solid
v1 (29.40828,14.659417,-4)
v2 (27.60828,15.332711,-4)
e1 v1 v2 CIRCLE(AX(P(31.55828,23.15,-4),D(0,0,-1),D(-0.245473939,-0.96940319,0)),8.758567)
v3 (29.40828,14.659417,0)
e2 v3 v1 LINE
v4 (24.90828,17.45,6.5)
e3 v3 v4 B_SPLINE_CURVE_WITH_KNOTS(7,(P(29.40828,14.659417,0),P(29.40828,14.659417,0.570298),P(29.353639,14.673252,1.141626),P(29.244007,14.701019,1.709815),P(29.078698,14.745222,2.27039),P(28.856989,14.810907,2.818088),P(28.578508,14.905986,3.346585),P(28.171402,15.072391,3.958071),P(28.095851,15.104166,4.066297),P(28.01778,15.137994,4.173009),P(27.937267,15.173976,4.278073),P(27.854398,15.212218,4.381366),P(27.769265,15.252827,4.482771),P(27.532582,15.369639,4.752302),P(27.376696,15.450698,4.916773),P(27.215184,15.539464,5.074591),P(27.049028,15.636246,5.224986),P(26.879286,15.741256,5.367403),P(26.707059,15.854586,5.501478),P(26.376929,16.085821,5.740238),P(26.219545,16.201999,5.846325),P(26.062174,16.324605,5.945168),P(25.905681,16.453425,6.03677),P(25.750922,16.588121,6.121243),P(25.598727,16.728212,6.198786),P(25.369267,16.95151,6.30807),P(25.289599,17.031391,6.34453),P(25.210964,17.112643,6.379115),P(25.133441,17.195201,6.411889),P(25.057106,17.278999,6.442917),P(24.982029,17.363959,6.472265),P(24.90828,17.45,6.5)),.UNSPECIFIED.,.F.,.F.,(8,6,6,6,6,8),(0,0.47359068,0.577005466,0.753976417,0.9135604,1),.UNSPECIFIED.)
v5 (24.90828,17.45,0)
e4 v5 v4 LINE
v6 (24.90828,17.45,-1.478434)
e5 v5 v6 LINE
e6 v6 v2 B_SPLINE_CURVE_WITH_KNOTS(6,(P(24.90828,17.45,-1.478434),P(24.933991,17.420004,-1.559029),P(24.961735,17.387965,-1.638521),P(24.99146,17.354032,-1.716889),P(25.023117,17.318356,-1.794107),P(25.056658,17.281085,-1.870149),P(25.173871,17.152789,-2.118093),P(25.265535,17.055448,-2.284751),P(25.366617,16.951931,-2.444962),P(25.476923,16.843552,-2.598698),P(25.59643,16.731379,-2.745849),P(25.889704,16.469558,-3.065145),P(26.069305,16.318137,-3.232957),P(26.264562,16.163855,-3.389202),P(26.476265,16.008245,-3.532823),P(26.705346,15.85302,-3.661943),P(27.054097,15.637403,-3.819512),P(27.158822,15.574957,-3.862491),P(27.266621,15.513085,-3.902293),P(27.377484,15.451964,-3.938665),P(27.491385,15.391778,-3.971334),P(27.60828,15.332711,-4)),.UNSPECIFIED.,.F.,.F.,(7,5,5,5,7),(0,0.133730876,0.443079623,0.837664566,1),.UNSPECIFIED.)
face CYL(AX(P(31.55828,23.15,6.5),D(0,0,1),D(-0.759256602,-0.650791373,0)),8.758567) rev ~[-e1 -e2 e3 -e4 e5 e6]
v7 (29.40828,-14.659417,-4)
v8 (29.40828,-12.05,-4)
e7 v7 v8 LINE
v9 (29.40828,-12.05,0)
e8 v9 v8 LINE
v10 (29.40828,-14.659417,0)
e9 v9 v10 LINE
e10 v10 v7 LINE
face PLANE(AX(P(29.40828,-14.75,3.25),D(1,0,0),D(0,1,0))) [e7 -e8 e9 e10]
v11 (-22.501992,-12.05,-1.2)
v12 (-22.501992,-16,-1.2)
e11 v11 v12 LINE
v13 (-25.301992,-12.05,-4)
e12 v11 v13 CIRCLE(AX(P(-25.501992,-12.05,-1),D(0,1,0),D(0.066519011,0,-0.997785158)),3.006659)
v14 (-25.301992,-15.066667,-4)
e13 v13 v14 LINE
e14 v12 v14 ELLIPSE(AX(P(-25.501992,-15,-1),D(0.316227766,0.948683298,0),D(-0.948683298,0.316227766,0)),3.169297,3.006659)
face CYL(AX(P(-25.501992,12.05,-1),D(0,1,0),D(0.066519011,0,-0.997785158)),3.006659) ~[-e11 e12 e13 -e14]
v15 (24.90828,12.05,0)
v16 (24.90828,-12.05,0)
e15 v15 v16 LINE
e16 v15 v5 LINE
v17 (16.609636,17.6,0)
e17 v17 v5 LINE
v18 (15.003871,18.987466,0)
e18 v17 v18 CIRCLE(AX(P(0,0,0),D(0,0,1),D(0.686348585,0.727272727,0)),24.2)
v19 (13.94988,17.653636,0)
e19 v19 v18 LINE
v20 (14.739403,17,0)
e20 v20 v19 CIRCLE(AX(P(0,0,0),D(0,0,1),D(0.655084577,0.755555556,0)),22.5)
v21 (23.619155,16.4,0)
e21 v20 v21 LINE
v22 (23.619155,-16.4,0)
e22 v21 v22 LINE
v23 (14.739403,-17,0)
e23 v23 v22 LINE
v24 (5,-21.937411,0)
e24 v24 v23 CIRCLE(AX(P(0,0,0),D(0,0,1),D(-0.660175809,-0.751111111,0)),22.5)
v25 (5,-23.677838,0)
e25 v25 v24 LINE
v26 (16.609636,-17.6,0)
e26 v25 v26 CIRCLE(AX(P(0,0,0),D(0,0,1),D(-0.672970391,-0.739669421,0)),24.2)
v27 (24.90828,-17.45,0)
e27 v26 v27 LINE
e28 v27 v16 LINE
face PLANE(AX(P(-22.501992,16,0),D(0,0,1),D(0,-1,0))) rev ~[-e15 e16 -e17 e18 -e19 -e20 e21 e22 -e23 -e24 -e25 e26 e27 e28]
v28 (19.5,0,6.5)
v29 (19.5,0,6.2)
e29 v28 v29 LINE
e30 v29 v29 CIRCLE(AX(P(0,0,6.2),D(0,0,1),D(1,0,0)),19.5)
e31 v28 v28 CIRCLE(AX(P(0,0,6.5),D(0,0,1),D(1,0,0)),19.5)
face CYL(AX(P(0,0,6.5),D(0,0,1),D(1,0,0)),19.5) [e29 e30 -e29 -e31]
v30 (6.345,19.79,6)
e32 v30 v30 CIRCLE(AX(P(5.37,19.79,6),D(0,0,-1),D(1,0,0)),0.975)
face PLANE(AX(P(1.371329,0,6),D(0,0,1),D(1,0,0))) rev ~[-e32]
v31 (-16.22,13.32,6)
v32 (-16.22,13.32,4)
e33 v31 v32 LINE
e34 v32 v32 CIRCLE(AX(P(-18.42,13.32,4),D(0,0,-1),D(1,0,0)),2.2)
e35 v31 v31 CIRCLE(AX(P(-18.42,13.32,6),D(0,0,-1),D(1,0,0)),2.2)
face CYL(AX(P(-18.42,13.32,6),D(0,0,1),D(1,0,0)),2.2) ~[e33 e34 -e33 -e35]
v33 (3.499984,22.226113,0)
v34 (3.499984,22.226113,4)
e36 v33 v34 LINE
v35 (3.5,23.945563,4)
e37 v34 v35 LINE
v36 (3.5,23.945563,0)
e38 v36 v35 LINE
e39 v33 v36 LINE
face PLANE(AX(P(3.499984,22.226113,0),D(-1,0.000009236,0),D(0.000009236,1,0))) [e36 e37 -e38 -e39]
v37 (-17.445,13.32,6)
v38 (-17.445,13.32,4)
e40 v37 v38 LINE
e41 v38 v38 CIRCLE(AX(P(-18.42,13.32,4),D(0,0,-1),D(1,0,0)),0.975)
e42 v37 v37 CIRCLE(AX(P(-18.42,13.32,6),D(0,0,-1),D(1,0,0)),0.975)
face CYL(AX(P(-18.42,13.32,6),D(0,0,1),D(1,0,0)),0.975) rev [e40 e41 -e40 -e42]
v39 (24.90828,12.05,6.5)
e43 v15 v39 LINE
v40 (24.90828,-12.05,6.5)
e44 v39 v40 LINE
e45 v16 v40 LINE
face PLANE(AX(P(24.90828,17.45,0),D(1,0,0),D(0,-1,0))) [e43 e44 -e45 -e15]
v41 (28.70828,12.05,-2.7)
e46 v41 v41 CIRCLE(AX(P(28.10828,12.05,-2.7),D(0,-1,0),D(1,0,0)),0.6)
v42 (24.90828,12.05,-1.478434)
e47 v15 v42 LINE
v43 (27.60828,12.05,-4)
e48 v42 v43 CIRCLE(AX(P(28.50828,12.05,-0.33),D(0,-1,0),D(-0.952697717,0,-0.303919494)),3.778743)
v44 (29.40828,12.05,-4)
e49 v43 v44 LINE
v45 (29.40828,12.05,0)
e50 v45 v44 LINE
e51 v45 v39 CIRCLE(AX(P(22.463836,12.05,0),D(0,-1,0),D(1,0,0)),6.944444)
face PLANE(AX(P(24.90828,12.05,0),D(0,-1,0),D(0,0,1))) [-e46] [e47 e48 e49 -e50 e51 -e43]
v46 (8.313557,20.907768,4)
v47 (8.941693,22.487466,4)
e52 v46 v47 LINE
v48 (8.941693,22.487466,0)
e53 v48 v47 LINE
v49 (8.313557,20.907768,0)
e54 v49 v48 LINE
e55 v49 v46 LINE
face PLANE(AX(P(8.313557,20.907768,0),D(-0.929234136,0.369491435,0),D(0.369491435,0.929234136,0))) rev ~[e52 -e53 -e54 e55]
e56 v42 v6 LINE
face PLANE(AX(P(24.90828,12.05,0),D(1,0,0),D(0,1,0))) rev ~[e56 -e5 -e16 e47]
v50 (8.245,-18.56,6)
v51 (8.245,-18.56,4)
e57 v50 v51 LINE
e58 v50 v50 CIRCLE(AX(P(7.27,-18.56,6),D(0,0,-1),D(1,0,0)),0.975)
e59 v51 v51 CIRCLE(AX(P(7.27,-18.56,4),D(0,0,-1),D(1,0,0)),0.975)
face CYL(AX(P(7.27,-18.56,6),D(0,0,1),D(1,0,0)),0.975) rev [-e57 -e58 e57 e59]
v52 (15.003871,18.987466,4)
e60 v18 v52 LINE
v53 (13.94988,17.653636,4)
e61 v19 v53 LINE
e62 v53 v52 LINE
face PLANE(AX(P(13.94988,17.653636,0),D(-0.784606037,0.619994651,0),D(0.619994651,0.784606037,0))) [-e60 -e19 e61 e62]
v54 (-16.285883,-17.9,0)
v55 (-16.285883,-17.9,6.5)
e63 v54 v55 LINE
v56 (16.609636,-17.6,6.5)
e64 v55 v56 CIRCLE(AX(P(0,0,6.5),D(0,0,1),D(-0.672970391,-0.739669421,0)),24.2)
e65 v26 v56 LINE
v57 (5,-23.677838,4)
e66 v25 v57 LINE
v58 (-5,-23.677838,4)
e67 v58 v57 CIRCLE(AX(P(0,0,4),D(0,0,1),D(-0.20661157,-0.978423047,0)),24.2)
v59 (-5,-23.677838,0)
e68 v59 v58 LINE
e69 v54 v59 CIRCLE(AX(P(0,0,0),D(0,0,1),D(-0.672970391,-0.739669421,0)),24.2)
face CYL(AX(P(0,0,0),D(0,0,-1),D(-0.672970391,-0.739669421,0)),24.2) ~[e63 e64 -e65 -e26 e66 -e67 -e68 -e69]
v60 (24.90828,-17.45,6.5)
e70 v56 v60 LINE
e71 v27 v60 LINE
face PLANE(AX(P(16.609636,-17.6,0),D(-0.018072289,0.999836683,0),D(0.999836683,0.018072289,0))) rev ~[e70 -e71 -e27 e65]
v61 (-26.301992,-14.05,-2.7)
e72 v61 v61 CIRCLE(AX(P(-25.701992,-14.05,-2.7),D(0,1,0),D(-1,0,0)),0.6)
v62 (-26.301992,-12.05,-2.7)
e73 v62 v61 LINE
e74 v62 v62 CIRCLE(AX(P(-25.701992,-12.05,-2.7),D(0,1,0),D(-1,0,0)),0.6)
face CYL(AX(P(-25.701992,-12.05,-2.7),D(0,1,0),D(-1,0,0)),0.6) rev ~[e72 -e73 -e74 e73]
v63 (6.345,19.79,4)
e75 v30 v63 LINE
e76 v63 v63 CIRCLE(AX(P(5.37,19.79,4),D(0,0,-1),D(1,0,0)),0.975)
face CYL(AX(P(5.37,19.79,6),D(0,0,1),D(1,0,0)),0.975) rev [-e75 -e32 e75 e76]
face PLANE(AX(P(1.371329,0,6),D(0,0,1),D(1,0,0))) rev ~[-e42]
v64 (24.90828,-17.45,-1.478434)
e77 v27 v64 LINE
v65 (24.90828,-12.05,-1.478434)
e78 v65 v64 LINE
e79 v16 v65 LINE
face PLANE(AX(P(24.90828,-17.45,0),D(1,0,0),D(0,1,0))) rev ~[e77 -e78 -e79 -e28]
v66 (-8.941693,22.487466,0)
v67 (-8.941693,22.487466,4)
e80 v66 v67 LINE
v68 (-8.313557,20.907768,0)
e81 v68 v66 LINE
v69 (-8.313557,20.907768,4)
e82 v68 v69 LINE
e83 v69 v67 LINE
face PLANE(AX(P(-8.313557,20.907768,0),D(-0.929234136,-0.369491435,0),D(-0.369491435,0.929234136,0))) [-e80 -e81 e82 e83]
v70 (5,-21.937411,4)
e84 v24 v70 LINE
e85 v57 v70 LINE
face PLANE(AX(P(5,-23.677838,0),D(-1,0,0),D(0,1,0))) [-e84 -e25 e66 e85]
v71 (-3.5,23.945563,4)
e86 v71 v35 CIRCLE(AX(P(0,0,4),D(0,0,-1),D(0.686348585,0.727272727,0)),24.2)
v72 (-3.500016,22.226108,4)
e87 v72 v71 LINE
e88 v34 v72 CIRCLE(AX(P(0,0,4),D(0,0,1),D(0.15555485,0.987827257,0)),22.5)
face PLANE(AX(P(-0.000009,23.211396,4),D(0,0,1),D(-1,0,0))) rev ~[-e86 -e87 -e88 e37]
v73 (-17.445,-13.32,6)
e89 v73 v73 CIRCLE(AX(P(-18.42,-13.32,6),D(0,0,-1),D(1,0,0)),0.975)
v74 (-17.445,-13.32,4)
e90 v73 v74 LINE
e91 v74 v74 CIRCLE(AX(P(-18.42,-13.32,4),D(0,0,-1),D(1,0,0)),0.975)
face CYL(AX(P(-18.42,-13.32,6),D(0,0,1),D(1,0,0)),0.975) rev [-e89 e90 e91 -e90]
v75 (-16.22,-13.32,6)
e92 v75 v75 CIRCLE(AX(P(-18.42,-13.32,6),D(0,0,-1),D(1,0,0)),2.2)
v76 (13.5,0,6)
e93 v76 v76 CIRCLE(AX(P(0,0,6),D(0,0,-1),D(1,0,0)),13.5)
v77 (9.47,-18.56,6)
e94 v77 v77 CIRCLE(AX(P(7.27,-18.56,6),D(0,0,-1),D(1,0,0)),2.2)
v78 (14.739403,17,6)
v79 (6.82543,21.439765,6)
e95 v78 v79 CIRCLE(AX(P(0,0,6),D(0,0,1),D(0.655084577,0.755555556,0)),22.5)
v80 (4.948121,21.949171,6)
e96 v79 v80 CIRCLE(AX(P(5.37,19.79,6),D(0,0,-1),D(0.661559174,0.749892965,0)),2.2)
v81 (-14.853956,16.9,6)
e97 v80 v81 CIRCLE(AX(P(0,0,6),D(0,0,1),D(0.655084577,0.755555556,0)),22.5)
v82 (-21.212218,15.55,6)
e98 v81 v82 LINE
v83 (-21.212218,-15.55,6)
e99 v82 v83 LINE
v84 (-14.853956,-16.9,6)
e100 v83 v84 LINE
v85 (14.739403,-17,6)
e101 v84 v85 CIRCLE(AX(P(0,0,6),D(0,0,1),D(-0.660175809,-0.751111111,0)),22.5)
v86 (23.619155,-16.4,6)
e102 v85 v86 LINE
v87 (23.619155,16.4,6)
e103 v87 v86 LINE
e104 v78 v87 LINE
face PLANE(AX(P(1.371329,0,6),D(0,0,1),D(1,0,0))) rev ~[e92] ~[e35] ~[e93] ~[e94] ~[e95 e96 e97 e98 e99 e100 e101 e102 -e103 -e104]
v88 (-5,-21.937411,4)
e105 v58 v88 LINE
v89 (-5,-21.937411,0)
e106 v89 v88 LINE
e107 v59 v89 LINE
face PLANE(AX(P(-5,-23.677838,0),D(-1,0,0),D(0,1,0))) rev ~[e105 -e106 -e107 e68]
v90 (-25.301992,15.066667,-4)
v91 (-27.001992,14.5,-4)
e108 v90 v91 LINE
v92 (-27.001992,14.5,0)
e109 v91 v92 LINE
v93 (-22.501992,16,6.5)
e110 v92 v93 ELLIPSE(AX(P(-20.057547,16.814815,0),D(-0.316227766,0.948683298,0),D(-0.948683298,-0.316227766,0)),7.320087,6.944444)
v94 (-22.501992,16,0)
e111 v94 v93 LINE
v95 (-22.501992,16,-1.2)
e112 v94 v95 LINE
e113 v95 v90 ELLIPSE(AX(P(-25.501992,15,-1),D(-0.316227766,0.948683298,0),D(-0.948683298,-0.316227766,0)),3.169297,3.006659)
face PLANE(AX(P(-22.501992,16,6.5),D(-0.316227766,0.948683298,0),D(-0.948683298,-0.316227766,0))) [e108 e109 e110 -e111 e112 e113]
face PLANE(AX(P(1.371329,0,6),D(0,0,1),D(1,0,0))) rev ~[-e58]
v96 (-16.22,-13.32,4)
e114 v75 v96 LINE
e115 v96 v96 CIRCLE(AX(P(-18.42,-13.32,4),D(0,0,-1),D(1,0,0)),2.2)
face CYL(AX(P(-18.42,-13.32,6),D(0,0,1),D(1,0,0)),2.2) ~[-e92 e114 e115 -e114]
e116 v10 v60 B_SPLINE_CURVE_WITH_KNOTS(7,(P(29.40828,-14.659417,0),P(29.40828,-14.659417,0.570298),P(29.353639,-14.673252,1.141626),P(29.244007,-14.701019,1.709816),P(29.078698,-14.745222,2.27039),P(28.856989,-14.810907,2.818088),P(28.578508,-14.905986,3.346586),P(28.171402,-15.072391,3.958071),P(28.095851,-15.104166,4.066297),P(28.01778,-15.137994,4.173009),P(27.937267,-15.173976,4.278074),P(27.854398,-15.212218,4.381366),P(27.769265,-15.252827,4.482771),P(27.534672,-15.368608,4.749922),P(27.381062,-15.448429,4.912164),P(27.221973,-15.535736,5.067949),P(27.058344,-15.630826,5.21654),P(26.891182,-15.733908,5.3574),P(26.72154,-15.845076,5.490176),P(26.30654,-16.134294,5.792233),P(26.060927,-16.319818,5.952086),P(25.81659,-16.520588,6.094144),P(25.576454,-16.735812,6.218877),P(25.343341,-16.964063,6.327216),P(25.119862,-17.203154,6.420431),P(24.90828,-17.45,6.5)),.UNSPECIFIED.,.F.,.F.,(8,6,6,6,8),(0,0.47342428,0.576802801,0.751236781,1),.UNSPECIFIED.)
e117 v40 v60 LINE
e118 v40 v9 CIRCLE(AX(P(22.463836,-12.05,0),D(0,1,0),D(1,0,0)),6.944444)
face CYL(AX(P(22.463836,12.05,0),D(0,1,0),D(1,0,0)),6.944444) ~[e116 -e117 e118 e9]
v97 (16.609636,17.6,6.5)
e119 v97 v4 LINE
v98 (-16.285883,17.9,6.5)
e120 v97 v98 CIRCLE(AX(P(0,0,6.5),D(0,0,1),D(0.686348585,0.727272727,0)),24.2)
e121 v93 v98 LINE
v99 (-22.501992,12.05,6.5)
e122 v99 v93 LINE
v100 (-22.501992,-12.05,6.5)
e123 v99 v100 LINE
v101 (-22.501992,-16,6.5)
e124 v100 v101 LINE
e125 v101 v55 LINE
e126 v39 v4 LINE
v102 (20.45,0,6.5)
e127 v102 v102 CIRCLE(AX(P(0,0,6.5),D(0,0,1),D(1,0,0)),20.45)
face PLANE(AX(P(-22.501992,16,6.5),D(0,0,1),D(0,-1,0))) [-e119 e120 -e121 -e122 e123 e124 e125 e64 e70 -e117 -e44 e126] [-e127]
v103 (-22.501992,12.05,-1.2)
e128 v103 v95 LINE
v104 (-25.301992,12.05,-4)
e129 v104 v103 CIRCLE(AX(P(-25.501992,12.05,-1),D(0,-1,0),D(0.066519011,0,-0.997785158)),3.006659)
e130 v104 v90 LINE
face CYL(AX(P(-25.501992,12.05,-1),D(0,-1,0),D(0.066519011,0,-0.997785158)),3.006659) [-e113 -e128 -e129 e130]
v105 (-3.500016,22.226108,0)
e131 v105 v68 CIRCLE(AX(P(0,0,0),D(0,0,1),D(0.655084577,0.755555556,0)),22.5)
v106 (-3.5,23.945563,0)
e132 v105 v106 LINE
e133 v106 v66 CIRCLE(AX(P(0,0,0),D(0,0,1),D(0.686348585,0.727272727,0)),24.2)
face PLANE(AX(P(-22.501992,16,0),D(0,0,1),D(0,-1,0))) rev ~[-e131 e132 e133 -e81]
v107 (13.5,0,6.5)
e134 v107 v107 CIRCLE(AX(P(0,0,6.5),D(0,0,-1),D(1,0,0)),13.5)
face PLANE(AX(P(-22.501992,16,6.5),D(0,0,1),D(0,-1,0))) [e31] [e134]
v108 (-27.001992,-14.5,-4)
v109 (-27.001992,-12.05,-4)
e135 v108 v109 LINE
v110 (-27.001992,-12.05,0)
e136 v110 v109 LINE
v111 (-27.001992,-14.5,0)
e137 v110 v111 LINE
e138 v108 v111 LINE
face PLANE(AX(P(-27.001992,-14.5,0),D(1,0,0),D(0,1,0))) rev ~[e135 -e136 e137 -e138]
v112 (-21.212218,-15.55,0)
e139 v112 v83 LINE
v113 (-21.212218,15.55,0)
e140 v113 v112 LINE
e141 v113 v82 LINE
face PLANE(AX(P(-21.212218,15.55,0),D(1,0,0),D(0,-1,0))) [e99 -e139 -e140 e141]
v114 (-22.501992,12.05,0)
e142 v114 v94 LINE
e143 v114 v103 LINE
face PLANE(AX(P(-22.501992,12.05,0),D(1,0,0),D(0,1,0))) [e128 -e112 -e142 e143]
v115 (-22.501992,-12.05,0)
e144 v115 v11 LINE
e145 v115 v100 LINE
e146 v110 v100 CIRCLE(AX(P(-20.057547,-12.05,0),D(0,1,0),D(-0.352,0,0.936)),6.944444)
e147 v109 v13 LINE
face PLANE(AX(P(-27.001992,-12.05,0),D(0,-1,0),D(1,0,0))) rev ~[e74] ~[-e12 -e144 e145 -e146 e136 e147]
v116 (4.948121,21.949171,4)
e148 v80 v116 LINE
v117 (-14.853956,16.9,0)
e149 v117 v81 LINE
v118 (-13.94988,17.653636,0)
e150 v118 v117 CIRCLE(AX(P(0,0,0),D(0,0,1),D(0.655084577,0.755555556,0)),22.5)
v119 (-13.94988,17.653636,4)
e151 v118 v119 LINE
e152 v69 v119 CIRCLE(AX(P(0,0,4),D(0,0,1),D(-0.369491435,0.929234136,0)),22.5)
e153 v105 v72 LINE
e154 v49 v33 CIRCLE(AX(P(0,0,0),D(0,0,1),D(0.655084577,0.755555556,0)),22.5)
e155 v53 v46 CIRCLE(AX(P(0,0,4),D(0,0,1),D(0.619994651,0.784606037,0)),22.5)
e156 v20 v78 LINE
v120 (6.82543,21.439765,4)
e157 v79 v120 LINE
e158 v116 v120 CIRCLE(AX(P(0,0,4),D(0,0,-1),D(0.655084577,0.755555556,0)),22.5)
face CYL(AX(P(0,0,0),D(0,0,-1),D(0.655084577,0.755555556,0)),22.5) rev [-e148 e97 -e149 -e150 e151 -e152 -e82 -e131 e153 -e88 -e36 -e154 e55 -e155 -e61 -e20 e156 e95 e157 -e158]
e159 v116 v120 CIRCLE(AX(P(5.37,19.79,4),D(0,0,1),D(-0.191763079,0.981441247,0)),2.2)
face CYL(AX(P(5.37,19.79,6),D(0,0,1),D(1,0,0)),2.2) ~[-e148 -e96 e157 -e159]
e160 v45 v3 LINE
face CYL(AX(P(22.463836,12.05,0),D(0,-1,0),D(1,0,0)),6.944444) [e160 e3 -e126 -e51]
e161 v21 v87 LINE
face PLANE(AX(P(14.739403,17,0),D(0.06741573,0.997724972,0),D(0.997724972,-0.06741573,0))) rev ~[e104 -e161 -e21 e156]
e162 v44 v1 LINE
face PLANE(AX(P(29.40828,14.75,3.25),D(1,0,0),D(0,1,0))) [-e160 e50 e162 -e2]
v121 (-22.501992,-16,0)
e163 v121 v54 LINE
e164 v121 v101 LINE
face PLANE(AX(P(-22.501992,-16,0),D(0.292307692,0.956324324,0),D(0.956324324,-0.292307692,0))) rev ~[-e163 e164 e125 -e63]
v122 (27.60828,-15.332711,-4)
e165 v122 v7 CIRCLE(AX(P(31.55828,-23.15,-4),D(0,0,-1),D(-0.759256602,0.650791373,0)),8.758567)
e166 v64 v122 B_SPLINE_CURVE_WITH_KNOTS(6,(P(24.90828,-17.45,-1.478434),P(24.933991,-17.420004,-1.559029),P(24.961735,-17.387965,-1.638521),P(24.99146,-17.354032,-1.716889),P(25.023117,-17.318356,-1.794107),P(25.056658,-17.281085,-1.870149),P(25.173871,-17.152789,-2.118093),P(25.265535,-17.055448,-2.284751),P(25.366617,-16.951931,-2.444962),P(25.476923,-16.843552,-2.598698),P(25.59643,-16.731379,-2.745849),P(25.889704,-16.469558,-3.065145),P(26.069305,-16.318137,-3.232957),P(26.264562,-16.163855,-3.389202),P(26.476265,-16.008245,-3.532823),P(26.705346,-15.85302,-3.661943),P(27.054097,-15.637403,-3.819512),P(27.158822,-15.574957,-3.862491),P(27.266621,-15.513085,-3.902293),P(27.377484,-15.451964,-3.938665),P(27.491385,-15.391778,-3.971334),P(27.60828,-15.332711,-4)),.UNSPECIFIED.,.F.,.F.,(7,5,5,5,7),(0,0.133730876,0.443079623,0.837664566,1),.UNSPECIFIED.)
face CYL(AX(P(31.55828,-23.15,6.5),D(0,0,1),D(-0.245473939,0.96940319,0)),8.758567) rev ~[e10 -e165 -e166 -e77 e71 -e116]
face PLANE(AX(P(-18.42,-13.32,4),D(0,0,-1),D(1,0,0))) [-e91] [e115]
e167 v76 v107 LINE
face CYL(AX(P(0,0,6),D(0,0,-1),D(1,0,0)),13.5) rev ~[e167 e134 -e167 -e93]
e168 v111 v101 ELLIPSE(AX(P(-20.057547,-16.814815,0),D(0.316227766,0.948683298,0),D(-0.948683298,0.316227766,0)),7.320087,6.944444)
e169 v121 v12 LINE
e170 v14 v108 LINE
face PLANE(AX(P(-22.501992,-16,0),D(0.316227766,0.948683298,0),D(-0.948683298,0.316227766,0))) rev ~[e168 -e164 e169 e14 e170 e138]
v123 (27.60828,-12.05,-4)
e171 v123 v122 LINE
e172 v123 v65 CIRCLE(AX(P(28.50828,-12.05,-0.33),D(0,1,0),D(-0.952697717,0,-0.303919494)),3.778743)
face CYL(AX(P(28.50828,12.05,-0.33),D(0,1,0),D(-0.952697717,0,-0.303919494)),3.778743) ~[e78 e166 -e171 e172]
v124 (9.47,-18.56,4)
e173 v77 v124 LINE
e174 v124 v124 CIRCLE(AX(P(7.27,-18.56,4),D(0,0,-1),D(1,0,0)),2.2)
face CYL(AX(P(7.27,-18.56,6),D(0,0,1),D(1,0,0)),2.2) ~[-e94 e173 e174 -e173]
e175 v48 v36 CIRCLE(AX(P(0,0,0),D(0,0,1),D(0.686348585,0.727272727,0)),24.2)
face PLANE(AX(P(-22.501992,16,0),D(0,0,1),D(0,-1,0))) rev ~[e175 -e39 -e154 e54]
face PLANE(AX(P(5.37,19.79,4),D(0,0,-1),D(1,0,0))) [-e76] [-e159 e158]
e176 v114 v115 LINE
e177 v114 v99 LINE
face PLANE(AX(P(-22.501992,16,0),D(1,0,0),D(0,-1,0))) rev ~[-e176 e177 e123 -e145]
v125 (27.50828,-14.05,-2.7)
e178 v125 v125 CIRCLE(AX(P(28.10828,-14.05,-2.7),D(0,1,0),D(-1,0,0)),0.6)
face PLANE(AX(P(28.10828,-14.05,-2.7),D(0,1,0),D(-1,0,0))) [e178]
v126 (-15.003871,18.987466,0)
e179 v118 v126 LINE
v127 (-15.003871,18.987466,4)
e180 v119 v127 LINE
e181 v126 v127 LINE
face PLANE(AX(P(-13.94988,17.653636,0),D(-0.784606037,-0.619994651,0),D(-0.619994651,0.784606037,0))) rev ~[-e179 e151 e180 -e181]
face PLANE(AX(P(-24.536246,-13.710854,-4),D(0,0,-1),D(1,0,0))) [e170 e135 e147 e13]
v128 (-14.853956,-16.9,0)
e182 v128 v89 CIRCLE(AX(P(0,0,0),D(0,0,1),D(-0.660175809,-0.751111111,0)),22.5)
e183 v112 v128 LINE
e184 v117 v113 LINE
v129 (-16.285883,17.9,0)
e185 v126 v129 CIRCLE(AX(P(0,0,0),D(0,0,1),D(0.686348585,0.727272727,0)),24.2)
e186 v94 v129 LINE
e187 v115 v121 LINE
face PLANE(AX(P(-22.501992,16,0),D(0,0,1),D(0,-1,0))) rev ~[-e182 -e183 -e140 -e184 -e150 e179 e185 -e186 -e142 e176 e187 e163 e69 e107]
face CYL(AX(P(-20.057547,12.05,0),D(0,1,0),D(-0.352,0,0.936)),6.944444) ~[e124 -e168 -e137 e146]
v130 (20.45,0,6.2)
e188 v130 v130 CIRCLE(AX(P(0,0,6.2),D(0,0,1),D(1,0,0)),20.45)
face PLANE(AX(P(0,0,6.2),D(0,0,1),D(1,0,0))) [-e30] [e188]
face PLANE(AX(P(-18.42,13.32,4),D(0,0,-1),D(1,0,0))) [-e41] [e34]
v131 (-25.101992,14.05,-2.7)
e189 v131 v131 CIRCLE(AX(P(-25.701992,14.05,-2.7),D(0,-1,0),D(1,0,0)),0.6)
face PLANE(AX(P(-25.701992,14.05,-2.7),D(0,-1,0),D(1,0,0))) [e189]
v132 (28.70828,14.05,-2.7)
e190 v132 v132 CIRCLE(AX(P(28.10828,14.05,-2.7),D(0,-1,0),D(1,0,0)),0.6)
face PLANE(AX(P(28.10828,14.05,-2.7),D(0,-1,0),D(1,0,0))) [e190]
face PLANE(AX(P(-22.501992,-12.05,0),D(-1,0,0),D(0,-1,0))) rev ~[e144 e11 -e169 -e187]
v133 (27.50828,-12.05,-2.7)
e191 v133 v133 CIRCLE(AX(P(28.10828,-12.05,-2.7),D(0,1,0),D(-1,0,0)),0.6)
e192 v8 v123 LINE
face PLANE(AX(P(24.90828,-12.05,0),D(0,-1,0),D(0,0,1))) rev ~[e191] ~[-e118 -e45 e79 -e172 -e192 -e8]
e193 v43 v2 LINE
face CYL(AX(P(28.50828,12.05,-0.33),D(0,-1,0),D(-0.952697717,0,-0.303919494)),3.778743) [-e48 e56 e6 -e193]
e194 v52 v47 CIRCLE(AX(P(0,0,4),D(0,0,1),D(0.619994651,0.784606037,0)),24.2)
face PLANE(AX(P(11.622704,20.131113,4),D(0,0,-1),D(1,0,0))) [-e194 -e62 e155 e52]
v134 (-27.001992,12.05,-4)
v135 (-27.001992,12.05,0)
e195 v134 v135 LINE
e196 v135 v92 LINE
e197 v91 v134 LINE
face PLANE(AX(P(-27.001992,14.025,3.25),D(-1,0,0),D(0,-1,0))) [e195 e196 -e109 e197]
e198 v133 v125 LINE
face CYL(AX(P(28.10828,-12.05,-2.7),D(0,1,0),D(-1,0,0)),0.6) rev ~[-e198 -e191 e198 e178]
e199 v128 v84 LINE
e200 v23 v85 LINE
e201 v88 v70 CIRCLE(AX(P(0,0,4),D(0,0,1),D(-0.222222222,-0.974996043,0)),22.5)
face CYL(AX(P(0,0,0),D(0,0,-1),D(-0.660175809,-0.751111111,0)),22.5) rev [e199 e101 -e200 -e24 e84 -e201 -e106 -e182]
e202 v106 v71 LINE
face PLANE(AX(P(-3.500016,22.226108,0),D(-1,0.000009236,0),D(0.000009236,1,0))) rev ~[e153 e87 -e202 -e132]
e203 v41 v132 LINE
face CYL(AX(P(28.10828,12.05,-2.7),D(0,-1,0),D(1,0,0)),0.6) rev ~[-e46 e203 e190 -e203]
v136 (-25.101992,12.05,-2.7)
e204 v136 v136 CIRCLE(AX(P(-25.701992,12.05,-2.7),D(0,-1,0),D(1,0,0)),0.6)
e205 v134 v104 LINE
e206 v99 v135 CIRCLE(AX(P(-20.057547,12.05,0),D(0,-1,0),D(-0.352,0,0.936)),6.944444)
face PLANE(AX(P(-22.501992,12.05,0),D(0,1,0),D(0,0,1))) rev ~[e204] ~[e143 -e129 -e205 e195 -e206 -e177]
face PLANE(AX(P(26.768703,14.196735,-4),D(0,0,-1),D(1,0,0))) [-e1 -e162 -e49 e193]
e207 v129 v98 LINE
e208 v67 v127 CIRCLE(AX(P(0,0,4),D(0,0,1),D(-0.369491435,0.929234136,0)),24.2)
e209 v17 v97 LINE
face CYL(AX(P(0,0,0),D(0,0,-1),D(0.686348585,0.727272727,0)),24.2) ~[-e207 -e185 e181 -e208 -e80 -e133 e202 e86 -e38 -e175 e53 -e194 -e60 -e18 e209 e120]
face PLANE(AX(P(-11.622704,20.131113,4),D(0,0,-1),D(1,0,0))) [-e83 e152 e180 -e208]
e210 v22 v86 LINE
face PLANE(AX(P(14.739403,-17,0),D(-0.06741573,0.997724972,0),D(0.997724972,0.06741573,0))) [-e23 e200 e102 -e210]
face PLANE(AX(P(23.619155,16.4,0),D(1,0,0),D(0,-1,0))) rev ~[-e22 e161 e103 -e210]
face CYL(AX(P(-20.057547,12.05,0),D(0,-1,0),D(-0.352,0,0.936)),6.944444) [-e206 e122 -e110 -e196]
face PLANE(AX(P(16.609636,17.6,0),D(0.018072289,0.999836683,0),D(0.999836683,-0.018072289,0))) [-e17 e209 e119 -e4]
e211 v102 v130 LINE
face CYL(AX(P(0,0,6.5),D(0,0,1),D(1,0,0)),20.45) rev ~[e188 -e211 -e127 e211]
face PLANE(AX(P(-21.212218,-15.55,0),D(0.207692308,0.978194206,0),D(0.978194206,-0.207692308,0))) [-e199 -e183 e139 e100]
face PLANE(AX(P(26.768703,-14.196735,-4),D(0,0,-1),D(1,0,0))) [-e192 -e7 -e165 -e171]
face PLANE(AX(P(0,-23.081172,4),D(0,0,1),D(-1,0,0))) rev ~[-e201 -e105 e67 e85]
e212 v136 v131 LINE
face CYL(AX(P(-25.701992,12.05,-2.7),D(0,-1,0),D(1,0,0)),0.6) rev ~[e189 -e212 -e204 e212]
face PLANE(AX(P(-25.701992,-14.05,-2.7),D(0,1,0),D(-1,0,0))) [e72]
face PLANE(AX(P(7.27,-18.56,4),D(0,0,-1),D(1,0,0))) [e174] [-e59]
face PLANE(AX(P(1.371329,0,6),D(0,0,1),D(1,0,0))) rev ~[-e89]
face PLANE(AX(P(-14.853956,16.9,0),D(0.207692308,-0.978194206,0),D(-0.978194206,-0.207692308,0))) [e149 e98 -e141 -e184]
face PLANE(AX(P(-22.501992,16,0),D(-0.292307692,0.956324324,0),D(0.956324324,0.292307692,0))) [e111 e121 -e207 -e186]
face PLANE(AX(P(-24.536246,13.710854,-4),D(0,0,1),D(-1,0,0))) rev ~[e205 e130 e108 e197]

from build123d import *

# Parameters (mm, degrees)
PAD_DEPTH            = 6.5
POCKET_DEPTH         = 6
SKETCH002_R          = 13.5
POCKET001_DEPTH      = 1
SKETCH003_W          = 5.4
SKETCH003_H          = 6.5
PAD001_DEPTH         = 4.5
POCKET002_DEPTH      = 10
SKETCH010_W          = 3.95
SKETCH010_H          = 6.5
PAD002_DEPTH         = 4.5
POCKET005_DEPTH      = 10
SKETCH014_R          = 20.45
SKETCH014_R_2        = 19.5
POCKET008_DEPTH      = 0.3
SKETCH015_R          = 2.2
SKETCH015_R_2        = 0.975
PAD003_DEPTH         = 2
POCKET009_DEPTH      = 4
POCKET010_DEPTH      = 4
PAD004_DEPTH         = 4
SKETCH019_R          = 0.6
POCKET011_DEPTH      = 2
SKETCH020_R          = 0.6
POCKET012_DEPTH      = 2
POCKET013_DEPTH      = 12.151
POCKET013_DEPTH_BACK = 36.251


with BuildPart() as part:
    # Sketch → Pad (new body)
    with BuildSketch(Plane.XY):
        with BuildLine():
            Line((-22.5019915649, 16), (-22.5019915649, -16))
            Line((-22.5019915649, -16), (-16.2858834577, -17.9000000001))
            ThreePointArc((-16.2858834577, -17.9000000001), (0.2206895737, -24.1989937004), (16.6096357576, -17.5999999999))
            Line((16.6096357576, -17.5999999999), (24.9082802252, -17.45))
            Line((24.9082802252, 17.45), (24.9082802252, -17.45))
            Line((16.6096357576, 17.6), (24.9082802252, 17.45))
            ThreePointArc((16.6096357576, 17.6), (0.2206895736, 24.1989937004), (-16.2858834578, 17.9))
            Line((-22.5019915649, 16), (-16.2858834578, 17.9))
        make_face()
    extrude(amount=PAD_DEPTH)

    # Sketch001 → Pocket (cut)
    with BuildSketch(Plane.XY):
        with BuildLine():
            Line((-14.8539557021, 16.9), (-21.2122180433, 15.55))
            Line((-21.2122180433, 15.55), (-21.2122180433, -15.55))
            Line((-21.2122180433, -15.55), (-14.8539557021, -16.9))
            ThreePointArc((-14.8539557021, -16.9), (-0.0760301383, -22.4998715423), (14.739402973, -17))
            Line((14.739402973, -17), (23.6191552218, -16.4))
            Line((23.6191552218, 16.4), (23.6191552218, -16.4))
            Line((14.739402973, 17), (23.6191552218, 16.4))
            ThreePointArc((14.739402973, 17), (-0.0760301383, 22.4998715423), (-14.8539557021, 16.9))
        make_face()
    extrude(amount=POCKET_DEPTH, mode=Mode.SUBTRACT)

    # Sketch002 (on Face19 of Pocket) → Pocket001 (cut)
    with BuildSketch(Plane(origin=(0, 0, 6), x_dir=(1, 0, 0), z_dir=(0, 0, -1))):
        Circle(SKETCH002_R)
    extrude(amount=-POCKET001_DEPTH, mode=Mode.SUBTRACT)

    # Sketch003 (on Face7 of Pad) → Pad001 (join)
    with BuildSketch(Plane.YZ.offset(24.9082802252)):
        with Locations((-14.75, 3.25)):
            Rectangle(SKETCH003_W, SKETCH003_H)
        with Locations((14.75, 3.25)):
            Rectangle(SKETCH003_W, SKETCH003_H)
    extrude(amount=PAD001_DEPTH)

    # Sketch006 (on Face22 of Pad001) → Pocket002 (cut)
    with BuildSketch(Plane.XY.offset(6.5)):
        with BuildLine():
            ThreePointArc((24.9082802252, 17.45), (26.9423471239, 15.7065020586), (29.4082802252, 14.6594169811))
            Line((29.4082802252, 17.45), (29.4082802252, 14.6594169811))
            Line((29.4082802252, 17.45), (24.9082802252, 17.45))
        make_face()
        with BuildLine():
            ThreePointArc((29.4082802252, -14.6594169811), (26.9423471239, -15.7065020586), (24.9082802252, -17.45))
            Line((29.4082802252, -17.45), (24.9082802252, -17.45))
            Line((29.4082802252, -14.6594169811), (29.4082802252, -17.45))
        make_face()
    extrude(amount=-POCKET002_DEPTH, mode=Mode.SUBTRACT)

    # Sketch010 (on Face3 of Pad) → Pad002 (join)
    with BuildSketch(Plane(origin=(-22.5019915649, 0, 0), x_dir=(0, -1, 0), z_dir=(-1, 0, 0))):
        with Locations((-14.025, 3.25)):
            Rectangle(SKETCH010_W, SKETCH010_H)
        with Locations((14.025, 3.25)):
            Rectangle(SKETCH010_W, SKETCH010_H)
    extrude(amount=PAD002_DEPTH)

    # Sketch011 (on Face28 of Pad002) → Pocket005 (cut)
    with BuildSketch(Plane.XY.offset(6.5)):
        Polygon((-27.0019915649, 16), (-22.5019915649, 16), (-27.0019915649, 14.5), align=None)
        Polygon((-22.5019915649, -16), (-27.0019915649, -14.5), (-27.0019915649, -16), align=None)
    extrude(amount=-POCKET005_DEPTH, mode=Mode.SUBTRACT)

    # Sketch014 (on Face10 of Pad) → Pocket008 (cut)
    with BuildSketch(Plane.XY.offset(6.5)):
        Circle(SKETCH014_R)
        Circle(SKETCH014_R_2, mode=Mode.SUBTRACT)
    extrude(amount=-POCKET008_DEPTH, mode=Mode.SUBTRACT)

    # Sketch015 (on Face19 of Pocket) → Pad003 (join)
    with BuildSketch(Plane(origin=(0, 0, 6), x_dir=(1, 0, 0), z_dir=(0, 0, -1))):
        with Locations((-18.42, 13.32)):
            Circle(SKETCH015_R)
        with Locations((-18.42, 13.32)):
            Circle(SKETCH015_R_2, mode=Mode.SUBTRACT)
        with Locations((7.27, 18.56)):
            Circle(SKETCH015_R)
        with Locations((7.27, 18.56)):
            Circle(SKETCH015_R_2, mode=Mode.SUBTRACT)
        with Locations((5.37, -19.79)):
            Circle(SKETCH015_R)
        with Locations((5.37, -19.79)):
            Circle(SKETCH015_R_2, mode=Mode.SUBTRACT)
        with Locations((-18.42, -13.32)):
            Circle(SKETCH015_R)
        with Locations((-18.42, -13.32)):
            Circle(SKETCH015_R_2, mode=Mode.SUBTRACT)
    extrude(amount=PAD003_DEPTH)

    # Sketch016 → Pocket009 (cut)
    with BuildSketch(Plane(origin=(0, 0, 0), x_dir=(-1, 0, 0), z_dir=(0, 0, 1))):
        with BuildLine():
            Line((-5, 23.6778377391), (-5, 21.9374109685))
            ThreePointArc((5, 21.9374109685), (0, 22.5), (-5, 21.9374109685))
            Line((5, 23.6778377391), (5, 21.9374109685))
            ThreePointArc((5, 23.6778377391), (0, 24.2), (-5, 23.6778377391))
        make_face()
    extrude(amount=POCKET009_DEPTH, mode=Mode.SUBTRACT)

    # Sketch017 → Pocket010 (cut)
    with BuildSketch(Plane(origin=(0, 0, 0), x_dir=(-1, 0, 0), z_dir=(0, 0, 1))):
        with BuildLine():
            Line((-3.499984119, -22.2261132717), (-3.5, -23.9455632634))
            ThreePointArc((-3.5, -23.9455632634), (0, -24.2000019575), (3.5, -23.9455632634))
            Line((3.5000158811, -22.2261082701), (3.5, -23.9455632634))
            ThreePointArc((-3.499984119, -22.2261132717), (1.60767e-05, -22.5), (3.5000158811, -22.2261082701))
        make_face()
        with BuildLine():
            ThreePointArc((-13.9498796389, -17.6536358312), (-11.25, -19.4855715851), (-8.3135572795, -20.9077680626))
            Line((-8.3135572795, -20.9077680626), (-8.9416927184, -22.487466094))
            ThreePointArc((-15.0038705449, -18.987466094), (-12.1, -20.9578147716), (-8.9416927184, -22.487466094))
            Line((-13.9498796389, -17.6536358312), (-15.0038705449, -18.987466094))
        make_face()
        with BuildLine():
            ThreePointArc((8.3135572795, -20.9077680626), (11.25, -19.4855715851), (13.9498796389, -17.6536358312))
            Line((13.9498796389, -17.6536358312), (15.0038705449, -18.987466094))
            ThreePointArc((8.9416927184, -22.487466094), (12.1, -20.9578147716), (15.0038705449, -18.987466094))
            Line((8.3135572795, -20.9077680626), (8.9416927184, -22.487466094))
        make_face()
    extrude(amount=POCKET010_DEPTH, mode=Mode.SUBTRACT)

    # Sketch018 (on Face8 of Pocket005) → Pad004 (join)
    with BuildSketch(Plane(origin=(0, 0, 0), x_dir=(1, 0, 0), z_dir=(0, 0, -1))):
        Polygon((-27.0019915649, 14.5), (-27.0019915649, 12.05), (-22.5019915649, 12.05), (-22.5019915649, 16), align=None)
        Polygon((-27.0019915649, -12.05), (-22.5019915649, -12.05), (-22.5019915649, -16), (-27.0019915649, -14.5), align=None)
        with BuildLine():
            Line((24.9082802252, 17.45), (24.9082802252, 12.05))
            Line((29.4082802252, 12.05), (24.9082802252, 12.05))
            Line((29.4082802252, 14.6594169811), (29.4082802252, 12.05))
            ThreePointArc((24.9082802252, 17.45), (26.9423471239, 15.7065020586), (29.4082802252, 14.6594169811))
        make_face()
        with BuildLine():
            Line((24.9082802252, -12.05), (24.9082802252, -17.45))
            ThreePointArc((29.4082802252, -14.6594169811), (26.9423471239, -15.7065020586), (24.9082802252, -17.45))
            Line((29.4082802252, -12.05), (29.4082802252, -14.6594169811))
            Line((24.9082802252, -12.05), (29.4082802252, -12.05))
        make_face()
    extrude(amount=PAD004_DEPTH)

    # Sketch019 (on Face64 of Pad004) → Pocket011 (cut)
    with BuildSketch(Plane.XZ.offset(-12.05)):
        with Locations((28.1082802252, -2.7)):
            Circle(SKETCH019_R)
        with Locations((-25.7019915649, -2.7)):
            Circle(SKETCH019_R)
    extrude(amount=-POCKET011_DEPTH, mode=Mode.SUBTRACT)

    # Sketch020 (on Face50 of Pocket011) → Pocket012 (cut)
    with BuildSketch(Plane(origin=(0, -12.05, 0), x_dir=(-1, 0, 0), z_dir=(0, 1, 0))):
        with Locations((-28.1082802252, -2.7)):
            Circle(SKETCH020_R)
        with Locations((25.7019915649, -2.7)):
            Circle(SKETCH020_R)
    extrude(amount=-POCKET012_DEPTH, mode=Mode.SUBTRACT)

    # Sketch021 (on Face48 of Pocket012) → Pocket013 (cut, two sides)
    with BuildSketch(Plane.XZ.offset(-12.05)) as pocket013_sk:
        with BuildLine():
            ThreePointArc((29.4082802252, 0), (28.1735037783, 3.9528470752), (24.9082802252, 6.5))
            Line((24.9082802252, 6.5), (29.4082802252, 6.5))
            Line((29.4082802252, 6.5), (29.4082802252, 0))
        make_face()
        with BuildLine():
            ThreePointArc((24.9082802252, -1.478433716), (25.9291187082, -3.0916708473), (27.6082802252, -4))
            Line((24.9082802252, -4), (27.6082802252, -4))
            Line((24.9082802252, -1.478433716), (24.9082802252, -4))
        make_face()
        with BuildLine():
            ThreePointArc((-22.5019915649, 6.5), (-25.767215118, 3.9528470752), (-27.0019915649, 0))
            Line((-27.0019915649, 6.5), (-27.0019915649, 0))
            Line((-22.5019915649, 6.5), (-27.0019915649, 6.5))
        make_face()
        with BuildLine():
            ThreePointArc((-25.3019915649, -4), (-23.3759624024, -3.1260291625), (-22.5019915649, -1.2))
            Line((-22.5019915649, -1.2), (-22.5019915649, -4))
            Line((-22.5019915649, -4), (-25.3019915649, -4))
        make_face()
    extrude(amount=-POCKET013_DEPTH, mode=Mode.SUBTRACT)
    extrude(pocket013_sk.sketch, amount=POCKET013_DEPTH_BACK, mode=Mode.SUBTRACT)


solid = part.part
